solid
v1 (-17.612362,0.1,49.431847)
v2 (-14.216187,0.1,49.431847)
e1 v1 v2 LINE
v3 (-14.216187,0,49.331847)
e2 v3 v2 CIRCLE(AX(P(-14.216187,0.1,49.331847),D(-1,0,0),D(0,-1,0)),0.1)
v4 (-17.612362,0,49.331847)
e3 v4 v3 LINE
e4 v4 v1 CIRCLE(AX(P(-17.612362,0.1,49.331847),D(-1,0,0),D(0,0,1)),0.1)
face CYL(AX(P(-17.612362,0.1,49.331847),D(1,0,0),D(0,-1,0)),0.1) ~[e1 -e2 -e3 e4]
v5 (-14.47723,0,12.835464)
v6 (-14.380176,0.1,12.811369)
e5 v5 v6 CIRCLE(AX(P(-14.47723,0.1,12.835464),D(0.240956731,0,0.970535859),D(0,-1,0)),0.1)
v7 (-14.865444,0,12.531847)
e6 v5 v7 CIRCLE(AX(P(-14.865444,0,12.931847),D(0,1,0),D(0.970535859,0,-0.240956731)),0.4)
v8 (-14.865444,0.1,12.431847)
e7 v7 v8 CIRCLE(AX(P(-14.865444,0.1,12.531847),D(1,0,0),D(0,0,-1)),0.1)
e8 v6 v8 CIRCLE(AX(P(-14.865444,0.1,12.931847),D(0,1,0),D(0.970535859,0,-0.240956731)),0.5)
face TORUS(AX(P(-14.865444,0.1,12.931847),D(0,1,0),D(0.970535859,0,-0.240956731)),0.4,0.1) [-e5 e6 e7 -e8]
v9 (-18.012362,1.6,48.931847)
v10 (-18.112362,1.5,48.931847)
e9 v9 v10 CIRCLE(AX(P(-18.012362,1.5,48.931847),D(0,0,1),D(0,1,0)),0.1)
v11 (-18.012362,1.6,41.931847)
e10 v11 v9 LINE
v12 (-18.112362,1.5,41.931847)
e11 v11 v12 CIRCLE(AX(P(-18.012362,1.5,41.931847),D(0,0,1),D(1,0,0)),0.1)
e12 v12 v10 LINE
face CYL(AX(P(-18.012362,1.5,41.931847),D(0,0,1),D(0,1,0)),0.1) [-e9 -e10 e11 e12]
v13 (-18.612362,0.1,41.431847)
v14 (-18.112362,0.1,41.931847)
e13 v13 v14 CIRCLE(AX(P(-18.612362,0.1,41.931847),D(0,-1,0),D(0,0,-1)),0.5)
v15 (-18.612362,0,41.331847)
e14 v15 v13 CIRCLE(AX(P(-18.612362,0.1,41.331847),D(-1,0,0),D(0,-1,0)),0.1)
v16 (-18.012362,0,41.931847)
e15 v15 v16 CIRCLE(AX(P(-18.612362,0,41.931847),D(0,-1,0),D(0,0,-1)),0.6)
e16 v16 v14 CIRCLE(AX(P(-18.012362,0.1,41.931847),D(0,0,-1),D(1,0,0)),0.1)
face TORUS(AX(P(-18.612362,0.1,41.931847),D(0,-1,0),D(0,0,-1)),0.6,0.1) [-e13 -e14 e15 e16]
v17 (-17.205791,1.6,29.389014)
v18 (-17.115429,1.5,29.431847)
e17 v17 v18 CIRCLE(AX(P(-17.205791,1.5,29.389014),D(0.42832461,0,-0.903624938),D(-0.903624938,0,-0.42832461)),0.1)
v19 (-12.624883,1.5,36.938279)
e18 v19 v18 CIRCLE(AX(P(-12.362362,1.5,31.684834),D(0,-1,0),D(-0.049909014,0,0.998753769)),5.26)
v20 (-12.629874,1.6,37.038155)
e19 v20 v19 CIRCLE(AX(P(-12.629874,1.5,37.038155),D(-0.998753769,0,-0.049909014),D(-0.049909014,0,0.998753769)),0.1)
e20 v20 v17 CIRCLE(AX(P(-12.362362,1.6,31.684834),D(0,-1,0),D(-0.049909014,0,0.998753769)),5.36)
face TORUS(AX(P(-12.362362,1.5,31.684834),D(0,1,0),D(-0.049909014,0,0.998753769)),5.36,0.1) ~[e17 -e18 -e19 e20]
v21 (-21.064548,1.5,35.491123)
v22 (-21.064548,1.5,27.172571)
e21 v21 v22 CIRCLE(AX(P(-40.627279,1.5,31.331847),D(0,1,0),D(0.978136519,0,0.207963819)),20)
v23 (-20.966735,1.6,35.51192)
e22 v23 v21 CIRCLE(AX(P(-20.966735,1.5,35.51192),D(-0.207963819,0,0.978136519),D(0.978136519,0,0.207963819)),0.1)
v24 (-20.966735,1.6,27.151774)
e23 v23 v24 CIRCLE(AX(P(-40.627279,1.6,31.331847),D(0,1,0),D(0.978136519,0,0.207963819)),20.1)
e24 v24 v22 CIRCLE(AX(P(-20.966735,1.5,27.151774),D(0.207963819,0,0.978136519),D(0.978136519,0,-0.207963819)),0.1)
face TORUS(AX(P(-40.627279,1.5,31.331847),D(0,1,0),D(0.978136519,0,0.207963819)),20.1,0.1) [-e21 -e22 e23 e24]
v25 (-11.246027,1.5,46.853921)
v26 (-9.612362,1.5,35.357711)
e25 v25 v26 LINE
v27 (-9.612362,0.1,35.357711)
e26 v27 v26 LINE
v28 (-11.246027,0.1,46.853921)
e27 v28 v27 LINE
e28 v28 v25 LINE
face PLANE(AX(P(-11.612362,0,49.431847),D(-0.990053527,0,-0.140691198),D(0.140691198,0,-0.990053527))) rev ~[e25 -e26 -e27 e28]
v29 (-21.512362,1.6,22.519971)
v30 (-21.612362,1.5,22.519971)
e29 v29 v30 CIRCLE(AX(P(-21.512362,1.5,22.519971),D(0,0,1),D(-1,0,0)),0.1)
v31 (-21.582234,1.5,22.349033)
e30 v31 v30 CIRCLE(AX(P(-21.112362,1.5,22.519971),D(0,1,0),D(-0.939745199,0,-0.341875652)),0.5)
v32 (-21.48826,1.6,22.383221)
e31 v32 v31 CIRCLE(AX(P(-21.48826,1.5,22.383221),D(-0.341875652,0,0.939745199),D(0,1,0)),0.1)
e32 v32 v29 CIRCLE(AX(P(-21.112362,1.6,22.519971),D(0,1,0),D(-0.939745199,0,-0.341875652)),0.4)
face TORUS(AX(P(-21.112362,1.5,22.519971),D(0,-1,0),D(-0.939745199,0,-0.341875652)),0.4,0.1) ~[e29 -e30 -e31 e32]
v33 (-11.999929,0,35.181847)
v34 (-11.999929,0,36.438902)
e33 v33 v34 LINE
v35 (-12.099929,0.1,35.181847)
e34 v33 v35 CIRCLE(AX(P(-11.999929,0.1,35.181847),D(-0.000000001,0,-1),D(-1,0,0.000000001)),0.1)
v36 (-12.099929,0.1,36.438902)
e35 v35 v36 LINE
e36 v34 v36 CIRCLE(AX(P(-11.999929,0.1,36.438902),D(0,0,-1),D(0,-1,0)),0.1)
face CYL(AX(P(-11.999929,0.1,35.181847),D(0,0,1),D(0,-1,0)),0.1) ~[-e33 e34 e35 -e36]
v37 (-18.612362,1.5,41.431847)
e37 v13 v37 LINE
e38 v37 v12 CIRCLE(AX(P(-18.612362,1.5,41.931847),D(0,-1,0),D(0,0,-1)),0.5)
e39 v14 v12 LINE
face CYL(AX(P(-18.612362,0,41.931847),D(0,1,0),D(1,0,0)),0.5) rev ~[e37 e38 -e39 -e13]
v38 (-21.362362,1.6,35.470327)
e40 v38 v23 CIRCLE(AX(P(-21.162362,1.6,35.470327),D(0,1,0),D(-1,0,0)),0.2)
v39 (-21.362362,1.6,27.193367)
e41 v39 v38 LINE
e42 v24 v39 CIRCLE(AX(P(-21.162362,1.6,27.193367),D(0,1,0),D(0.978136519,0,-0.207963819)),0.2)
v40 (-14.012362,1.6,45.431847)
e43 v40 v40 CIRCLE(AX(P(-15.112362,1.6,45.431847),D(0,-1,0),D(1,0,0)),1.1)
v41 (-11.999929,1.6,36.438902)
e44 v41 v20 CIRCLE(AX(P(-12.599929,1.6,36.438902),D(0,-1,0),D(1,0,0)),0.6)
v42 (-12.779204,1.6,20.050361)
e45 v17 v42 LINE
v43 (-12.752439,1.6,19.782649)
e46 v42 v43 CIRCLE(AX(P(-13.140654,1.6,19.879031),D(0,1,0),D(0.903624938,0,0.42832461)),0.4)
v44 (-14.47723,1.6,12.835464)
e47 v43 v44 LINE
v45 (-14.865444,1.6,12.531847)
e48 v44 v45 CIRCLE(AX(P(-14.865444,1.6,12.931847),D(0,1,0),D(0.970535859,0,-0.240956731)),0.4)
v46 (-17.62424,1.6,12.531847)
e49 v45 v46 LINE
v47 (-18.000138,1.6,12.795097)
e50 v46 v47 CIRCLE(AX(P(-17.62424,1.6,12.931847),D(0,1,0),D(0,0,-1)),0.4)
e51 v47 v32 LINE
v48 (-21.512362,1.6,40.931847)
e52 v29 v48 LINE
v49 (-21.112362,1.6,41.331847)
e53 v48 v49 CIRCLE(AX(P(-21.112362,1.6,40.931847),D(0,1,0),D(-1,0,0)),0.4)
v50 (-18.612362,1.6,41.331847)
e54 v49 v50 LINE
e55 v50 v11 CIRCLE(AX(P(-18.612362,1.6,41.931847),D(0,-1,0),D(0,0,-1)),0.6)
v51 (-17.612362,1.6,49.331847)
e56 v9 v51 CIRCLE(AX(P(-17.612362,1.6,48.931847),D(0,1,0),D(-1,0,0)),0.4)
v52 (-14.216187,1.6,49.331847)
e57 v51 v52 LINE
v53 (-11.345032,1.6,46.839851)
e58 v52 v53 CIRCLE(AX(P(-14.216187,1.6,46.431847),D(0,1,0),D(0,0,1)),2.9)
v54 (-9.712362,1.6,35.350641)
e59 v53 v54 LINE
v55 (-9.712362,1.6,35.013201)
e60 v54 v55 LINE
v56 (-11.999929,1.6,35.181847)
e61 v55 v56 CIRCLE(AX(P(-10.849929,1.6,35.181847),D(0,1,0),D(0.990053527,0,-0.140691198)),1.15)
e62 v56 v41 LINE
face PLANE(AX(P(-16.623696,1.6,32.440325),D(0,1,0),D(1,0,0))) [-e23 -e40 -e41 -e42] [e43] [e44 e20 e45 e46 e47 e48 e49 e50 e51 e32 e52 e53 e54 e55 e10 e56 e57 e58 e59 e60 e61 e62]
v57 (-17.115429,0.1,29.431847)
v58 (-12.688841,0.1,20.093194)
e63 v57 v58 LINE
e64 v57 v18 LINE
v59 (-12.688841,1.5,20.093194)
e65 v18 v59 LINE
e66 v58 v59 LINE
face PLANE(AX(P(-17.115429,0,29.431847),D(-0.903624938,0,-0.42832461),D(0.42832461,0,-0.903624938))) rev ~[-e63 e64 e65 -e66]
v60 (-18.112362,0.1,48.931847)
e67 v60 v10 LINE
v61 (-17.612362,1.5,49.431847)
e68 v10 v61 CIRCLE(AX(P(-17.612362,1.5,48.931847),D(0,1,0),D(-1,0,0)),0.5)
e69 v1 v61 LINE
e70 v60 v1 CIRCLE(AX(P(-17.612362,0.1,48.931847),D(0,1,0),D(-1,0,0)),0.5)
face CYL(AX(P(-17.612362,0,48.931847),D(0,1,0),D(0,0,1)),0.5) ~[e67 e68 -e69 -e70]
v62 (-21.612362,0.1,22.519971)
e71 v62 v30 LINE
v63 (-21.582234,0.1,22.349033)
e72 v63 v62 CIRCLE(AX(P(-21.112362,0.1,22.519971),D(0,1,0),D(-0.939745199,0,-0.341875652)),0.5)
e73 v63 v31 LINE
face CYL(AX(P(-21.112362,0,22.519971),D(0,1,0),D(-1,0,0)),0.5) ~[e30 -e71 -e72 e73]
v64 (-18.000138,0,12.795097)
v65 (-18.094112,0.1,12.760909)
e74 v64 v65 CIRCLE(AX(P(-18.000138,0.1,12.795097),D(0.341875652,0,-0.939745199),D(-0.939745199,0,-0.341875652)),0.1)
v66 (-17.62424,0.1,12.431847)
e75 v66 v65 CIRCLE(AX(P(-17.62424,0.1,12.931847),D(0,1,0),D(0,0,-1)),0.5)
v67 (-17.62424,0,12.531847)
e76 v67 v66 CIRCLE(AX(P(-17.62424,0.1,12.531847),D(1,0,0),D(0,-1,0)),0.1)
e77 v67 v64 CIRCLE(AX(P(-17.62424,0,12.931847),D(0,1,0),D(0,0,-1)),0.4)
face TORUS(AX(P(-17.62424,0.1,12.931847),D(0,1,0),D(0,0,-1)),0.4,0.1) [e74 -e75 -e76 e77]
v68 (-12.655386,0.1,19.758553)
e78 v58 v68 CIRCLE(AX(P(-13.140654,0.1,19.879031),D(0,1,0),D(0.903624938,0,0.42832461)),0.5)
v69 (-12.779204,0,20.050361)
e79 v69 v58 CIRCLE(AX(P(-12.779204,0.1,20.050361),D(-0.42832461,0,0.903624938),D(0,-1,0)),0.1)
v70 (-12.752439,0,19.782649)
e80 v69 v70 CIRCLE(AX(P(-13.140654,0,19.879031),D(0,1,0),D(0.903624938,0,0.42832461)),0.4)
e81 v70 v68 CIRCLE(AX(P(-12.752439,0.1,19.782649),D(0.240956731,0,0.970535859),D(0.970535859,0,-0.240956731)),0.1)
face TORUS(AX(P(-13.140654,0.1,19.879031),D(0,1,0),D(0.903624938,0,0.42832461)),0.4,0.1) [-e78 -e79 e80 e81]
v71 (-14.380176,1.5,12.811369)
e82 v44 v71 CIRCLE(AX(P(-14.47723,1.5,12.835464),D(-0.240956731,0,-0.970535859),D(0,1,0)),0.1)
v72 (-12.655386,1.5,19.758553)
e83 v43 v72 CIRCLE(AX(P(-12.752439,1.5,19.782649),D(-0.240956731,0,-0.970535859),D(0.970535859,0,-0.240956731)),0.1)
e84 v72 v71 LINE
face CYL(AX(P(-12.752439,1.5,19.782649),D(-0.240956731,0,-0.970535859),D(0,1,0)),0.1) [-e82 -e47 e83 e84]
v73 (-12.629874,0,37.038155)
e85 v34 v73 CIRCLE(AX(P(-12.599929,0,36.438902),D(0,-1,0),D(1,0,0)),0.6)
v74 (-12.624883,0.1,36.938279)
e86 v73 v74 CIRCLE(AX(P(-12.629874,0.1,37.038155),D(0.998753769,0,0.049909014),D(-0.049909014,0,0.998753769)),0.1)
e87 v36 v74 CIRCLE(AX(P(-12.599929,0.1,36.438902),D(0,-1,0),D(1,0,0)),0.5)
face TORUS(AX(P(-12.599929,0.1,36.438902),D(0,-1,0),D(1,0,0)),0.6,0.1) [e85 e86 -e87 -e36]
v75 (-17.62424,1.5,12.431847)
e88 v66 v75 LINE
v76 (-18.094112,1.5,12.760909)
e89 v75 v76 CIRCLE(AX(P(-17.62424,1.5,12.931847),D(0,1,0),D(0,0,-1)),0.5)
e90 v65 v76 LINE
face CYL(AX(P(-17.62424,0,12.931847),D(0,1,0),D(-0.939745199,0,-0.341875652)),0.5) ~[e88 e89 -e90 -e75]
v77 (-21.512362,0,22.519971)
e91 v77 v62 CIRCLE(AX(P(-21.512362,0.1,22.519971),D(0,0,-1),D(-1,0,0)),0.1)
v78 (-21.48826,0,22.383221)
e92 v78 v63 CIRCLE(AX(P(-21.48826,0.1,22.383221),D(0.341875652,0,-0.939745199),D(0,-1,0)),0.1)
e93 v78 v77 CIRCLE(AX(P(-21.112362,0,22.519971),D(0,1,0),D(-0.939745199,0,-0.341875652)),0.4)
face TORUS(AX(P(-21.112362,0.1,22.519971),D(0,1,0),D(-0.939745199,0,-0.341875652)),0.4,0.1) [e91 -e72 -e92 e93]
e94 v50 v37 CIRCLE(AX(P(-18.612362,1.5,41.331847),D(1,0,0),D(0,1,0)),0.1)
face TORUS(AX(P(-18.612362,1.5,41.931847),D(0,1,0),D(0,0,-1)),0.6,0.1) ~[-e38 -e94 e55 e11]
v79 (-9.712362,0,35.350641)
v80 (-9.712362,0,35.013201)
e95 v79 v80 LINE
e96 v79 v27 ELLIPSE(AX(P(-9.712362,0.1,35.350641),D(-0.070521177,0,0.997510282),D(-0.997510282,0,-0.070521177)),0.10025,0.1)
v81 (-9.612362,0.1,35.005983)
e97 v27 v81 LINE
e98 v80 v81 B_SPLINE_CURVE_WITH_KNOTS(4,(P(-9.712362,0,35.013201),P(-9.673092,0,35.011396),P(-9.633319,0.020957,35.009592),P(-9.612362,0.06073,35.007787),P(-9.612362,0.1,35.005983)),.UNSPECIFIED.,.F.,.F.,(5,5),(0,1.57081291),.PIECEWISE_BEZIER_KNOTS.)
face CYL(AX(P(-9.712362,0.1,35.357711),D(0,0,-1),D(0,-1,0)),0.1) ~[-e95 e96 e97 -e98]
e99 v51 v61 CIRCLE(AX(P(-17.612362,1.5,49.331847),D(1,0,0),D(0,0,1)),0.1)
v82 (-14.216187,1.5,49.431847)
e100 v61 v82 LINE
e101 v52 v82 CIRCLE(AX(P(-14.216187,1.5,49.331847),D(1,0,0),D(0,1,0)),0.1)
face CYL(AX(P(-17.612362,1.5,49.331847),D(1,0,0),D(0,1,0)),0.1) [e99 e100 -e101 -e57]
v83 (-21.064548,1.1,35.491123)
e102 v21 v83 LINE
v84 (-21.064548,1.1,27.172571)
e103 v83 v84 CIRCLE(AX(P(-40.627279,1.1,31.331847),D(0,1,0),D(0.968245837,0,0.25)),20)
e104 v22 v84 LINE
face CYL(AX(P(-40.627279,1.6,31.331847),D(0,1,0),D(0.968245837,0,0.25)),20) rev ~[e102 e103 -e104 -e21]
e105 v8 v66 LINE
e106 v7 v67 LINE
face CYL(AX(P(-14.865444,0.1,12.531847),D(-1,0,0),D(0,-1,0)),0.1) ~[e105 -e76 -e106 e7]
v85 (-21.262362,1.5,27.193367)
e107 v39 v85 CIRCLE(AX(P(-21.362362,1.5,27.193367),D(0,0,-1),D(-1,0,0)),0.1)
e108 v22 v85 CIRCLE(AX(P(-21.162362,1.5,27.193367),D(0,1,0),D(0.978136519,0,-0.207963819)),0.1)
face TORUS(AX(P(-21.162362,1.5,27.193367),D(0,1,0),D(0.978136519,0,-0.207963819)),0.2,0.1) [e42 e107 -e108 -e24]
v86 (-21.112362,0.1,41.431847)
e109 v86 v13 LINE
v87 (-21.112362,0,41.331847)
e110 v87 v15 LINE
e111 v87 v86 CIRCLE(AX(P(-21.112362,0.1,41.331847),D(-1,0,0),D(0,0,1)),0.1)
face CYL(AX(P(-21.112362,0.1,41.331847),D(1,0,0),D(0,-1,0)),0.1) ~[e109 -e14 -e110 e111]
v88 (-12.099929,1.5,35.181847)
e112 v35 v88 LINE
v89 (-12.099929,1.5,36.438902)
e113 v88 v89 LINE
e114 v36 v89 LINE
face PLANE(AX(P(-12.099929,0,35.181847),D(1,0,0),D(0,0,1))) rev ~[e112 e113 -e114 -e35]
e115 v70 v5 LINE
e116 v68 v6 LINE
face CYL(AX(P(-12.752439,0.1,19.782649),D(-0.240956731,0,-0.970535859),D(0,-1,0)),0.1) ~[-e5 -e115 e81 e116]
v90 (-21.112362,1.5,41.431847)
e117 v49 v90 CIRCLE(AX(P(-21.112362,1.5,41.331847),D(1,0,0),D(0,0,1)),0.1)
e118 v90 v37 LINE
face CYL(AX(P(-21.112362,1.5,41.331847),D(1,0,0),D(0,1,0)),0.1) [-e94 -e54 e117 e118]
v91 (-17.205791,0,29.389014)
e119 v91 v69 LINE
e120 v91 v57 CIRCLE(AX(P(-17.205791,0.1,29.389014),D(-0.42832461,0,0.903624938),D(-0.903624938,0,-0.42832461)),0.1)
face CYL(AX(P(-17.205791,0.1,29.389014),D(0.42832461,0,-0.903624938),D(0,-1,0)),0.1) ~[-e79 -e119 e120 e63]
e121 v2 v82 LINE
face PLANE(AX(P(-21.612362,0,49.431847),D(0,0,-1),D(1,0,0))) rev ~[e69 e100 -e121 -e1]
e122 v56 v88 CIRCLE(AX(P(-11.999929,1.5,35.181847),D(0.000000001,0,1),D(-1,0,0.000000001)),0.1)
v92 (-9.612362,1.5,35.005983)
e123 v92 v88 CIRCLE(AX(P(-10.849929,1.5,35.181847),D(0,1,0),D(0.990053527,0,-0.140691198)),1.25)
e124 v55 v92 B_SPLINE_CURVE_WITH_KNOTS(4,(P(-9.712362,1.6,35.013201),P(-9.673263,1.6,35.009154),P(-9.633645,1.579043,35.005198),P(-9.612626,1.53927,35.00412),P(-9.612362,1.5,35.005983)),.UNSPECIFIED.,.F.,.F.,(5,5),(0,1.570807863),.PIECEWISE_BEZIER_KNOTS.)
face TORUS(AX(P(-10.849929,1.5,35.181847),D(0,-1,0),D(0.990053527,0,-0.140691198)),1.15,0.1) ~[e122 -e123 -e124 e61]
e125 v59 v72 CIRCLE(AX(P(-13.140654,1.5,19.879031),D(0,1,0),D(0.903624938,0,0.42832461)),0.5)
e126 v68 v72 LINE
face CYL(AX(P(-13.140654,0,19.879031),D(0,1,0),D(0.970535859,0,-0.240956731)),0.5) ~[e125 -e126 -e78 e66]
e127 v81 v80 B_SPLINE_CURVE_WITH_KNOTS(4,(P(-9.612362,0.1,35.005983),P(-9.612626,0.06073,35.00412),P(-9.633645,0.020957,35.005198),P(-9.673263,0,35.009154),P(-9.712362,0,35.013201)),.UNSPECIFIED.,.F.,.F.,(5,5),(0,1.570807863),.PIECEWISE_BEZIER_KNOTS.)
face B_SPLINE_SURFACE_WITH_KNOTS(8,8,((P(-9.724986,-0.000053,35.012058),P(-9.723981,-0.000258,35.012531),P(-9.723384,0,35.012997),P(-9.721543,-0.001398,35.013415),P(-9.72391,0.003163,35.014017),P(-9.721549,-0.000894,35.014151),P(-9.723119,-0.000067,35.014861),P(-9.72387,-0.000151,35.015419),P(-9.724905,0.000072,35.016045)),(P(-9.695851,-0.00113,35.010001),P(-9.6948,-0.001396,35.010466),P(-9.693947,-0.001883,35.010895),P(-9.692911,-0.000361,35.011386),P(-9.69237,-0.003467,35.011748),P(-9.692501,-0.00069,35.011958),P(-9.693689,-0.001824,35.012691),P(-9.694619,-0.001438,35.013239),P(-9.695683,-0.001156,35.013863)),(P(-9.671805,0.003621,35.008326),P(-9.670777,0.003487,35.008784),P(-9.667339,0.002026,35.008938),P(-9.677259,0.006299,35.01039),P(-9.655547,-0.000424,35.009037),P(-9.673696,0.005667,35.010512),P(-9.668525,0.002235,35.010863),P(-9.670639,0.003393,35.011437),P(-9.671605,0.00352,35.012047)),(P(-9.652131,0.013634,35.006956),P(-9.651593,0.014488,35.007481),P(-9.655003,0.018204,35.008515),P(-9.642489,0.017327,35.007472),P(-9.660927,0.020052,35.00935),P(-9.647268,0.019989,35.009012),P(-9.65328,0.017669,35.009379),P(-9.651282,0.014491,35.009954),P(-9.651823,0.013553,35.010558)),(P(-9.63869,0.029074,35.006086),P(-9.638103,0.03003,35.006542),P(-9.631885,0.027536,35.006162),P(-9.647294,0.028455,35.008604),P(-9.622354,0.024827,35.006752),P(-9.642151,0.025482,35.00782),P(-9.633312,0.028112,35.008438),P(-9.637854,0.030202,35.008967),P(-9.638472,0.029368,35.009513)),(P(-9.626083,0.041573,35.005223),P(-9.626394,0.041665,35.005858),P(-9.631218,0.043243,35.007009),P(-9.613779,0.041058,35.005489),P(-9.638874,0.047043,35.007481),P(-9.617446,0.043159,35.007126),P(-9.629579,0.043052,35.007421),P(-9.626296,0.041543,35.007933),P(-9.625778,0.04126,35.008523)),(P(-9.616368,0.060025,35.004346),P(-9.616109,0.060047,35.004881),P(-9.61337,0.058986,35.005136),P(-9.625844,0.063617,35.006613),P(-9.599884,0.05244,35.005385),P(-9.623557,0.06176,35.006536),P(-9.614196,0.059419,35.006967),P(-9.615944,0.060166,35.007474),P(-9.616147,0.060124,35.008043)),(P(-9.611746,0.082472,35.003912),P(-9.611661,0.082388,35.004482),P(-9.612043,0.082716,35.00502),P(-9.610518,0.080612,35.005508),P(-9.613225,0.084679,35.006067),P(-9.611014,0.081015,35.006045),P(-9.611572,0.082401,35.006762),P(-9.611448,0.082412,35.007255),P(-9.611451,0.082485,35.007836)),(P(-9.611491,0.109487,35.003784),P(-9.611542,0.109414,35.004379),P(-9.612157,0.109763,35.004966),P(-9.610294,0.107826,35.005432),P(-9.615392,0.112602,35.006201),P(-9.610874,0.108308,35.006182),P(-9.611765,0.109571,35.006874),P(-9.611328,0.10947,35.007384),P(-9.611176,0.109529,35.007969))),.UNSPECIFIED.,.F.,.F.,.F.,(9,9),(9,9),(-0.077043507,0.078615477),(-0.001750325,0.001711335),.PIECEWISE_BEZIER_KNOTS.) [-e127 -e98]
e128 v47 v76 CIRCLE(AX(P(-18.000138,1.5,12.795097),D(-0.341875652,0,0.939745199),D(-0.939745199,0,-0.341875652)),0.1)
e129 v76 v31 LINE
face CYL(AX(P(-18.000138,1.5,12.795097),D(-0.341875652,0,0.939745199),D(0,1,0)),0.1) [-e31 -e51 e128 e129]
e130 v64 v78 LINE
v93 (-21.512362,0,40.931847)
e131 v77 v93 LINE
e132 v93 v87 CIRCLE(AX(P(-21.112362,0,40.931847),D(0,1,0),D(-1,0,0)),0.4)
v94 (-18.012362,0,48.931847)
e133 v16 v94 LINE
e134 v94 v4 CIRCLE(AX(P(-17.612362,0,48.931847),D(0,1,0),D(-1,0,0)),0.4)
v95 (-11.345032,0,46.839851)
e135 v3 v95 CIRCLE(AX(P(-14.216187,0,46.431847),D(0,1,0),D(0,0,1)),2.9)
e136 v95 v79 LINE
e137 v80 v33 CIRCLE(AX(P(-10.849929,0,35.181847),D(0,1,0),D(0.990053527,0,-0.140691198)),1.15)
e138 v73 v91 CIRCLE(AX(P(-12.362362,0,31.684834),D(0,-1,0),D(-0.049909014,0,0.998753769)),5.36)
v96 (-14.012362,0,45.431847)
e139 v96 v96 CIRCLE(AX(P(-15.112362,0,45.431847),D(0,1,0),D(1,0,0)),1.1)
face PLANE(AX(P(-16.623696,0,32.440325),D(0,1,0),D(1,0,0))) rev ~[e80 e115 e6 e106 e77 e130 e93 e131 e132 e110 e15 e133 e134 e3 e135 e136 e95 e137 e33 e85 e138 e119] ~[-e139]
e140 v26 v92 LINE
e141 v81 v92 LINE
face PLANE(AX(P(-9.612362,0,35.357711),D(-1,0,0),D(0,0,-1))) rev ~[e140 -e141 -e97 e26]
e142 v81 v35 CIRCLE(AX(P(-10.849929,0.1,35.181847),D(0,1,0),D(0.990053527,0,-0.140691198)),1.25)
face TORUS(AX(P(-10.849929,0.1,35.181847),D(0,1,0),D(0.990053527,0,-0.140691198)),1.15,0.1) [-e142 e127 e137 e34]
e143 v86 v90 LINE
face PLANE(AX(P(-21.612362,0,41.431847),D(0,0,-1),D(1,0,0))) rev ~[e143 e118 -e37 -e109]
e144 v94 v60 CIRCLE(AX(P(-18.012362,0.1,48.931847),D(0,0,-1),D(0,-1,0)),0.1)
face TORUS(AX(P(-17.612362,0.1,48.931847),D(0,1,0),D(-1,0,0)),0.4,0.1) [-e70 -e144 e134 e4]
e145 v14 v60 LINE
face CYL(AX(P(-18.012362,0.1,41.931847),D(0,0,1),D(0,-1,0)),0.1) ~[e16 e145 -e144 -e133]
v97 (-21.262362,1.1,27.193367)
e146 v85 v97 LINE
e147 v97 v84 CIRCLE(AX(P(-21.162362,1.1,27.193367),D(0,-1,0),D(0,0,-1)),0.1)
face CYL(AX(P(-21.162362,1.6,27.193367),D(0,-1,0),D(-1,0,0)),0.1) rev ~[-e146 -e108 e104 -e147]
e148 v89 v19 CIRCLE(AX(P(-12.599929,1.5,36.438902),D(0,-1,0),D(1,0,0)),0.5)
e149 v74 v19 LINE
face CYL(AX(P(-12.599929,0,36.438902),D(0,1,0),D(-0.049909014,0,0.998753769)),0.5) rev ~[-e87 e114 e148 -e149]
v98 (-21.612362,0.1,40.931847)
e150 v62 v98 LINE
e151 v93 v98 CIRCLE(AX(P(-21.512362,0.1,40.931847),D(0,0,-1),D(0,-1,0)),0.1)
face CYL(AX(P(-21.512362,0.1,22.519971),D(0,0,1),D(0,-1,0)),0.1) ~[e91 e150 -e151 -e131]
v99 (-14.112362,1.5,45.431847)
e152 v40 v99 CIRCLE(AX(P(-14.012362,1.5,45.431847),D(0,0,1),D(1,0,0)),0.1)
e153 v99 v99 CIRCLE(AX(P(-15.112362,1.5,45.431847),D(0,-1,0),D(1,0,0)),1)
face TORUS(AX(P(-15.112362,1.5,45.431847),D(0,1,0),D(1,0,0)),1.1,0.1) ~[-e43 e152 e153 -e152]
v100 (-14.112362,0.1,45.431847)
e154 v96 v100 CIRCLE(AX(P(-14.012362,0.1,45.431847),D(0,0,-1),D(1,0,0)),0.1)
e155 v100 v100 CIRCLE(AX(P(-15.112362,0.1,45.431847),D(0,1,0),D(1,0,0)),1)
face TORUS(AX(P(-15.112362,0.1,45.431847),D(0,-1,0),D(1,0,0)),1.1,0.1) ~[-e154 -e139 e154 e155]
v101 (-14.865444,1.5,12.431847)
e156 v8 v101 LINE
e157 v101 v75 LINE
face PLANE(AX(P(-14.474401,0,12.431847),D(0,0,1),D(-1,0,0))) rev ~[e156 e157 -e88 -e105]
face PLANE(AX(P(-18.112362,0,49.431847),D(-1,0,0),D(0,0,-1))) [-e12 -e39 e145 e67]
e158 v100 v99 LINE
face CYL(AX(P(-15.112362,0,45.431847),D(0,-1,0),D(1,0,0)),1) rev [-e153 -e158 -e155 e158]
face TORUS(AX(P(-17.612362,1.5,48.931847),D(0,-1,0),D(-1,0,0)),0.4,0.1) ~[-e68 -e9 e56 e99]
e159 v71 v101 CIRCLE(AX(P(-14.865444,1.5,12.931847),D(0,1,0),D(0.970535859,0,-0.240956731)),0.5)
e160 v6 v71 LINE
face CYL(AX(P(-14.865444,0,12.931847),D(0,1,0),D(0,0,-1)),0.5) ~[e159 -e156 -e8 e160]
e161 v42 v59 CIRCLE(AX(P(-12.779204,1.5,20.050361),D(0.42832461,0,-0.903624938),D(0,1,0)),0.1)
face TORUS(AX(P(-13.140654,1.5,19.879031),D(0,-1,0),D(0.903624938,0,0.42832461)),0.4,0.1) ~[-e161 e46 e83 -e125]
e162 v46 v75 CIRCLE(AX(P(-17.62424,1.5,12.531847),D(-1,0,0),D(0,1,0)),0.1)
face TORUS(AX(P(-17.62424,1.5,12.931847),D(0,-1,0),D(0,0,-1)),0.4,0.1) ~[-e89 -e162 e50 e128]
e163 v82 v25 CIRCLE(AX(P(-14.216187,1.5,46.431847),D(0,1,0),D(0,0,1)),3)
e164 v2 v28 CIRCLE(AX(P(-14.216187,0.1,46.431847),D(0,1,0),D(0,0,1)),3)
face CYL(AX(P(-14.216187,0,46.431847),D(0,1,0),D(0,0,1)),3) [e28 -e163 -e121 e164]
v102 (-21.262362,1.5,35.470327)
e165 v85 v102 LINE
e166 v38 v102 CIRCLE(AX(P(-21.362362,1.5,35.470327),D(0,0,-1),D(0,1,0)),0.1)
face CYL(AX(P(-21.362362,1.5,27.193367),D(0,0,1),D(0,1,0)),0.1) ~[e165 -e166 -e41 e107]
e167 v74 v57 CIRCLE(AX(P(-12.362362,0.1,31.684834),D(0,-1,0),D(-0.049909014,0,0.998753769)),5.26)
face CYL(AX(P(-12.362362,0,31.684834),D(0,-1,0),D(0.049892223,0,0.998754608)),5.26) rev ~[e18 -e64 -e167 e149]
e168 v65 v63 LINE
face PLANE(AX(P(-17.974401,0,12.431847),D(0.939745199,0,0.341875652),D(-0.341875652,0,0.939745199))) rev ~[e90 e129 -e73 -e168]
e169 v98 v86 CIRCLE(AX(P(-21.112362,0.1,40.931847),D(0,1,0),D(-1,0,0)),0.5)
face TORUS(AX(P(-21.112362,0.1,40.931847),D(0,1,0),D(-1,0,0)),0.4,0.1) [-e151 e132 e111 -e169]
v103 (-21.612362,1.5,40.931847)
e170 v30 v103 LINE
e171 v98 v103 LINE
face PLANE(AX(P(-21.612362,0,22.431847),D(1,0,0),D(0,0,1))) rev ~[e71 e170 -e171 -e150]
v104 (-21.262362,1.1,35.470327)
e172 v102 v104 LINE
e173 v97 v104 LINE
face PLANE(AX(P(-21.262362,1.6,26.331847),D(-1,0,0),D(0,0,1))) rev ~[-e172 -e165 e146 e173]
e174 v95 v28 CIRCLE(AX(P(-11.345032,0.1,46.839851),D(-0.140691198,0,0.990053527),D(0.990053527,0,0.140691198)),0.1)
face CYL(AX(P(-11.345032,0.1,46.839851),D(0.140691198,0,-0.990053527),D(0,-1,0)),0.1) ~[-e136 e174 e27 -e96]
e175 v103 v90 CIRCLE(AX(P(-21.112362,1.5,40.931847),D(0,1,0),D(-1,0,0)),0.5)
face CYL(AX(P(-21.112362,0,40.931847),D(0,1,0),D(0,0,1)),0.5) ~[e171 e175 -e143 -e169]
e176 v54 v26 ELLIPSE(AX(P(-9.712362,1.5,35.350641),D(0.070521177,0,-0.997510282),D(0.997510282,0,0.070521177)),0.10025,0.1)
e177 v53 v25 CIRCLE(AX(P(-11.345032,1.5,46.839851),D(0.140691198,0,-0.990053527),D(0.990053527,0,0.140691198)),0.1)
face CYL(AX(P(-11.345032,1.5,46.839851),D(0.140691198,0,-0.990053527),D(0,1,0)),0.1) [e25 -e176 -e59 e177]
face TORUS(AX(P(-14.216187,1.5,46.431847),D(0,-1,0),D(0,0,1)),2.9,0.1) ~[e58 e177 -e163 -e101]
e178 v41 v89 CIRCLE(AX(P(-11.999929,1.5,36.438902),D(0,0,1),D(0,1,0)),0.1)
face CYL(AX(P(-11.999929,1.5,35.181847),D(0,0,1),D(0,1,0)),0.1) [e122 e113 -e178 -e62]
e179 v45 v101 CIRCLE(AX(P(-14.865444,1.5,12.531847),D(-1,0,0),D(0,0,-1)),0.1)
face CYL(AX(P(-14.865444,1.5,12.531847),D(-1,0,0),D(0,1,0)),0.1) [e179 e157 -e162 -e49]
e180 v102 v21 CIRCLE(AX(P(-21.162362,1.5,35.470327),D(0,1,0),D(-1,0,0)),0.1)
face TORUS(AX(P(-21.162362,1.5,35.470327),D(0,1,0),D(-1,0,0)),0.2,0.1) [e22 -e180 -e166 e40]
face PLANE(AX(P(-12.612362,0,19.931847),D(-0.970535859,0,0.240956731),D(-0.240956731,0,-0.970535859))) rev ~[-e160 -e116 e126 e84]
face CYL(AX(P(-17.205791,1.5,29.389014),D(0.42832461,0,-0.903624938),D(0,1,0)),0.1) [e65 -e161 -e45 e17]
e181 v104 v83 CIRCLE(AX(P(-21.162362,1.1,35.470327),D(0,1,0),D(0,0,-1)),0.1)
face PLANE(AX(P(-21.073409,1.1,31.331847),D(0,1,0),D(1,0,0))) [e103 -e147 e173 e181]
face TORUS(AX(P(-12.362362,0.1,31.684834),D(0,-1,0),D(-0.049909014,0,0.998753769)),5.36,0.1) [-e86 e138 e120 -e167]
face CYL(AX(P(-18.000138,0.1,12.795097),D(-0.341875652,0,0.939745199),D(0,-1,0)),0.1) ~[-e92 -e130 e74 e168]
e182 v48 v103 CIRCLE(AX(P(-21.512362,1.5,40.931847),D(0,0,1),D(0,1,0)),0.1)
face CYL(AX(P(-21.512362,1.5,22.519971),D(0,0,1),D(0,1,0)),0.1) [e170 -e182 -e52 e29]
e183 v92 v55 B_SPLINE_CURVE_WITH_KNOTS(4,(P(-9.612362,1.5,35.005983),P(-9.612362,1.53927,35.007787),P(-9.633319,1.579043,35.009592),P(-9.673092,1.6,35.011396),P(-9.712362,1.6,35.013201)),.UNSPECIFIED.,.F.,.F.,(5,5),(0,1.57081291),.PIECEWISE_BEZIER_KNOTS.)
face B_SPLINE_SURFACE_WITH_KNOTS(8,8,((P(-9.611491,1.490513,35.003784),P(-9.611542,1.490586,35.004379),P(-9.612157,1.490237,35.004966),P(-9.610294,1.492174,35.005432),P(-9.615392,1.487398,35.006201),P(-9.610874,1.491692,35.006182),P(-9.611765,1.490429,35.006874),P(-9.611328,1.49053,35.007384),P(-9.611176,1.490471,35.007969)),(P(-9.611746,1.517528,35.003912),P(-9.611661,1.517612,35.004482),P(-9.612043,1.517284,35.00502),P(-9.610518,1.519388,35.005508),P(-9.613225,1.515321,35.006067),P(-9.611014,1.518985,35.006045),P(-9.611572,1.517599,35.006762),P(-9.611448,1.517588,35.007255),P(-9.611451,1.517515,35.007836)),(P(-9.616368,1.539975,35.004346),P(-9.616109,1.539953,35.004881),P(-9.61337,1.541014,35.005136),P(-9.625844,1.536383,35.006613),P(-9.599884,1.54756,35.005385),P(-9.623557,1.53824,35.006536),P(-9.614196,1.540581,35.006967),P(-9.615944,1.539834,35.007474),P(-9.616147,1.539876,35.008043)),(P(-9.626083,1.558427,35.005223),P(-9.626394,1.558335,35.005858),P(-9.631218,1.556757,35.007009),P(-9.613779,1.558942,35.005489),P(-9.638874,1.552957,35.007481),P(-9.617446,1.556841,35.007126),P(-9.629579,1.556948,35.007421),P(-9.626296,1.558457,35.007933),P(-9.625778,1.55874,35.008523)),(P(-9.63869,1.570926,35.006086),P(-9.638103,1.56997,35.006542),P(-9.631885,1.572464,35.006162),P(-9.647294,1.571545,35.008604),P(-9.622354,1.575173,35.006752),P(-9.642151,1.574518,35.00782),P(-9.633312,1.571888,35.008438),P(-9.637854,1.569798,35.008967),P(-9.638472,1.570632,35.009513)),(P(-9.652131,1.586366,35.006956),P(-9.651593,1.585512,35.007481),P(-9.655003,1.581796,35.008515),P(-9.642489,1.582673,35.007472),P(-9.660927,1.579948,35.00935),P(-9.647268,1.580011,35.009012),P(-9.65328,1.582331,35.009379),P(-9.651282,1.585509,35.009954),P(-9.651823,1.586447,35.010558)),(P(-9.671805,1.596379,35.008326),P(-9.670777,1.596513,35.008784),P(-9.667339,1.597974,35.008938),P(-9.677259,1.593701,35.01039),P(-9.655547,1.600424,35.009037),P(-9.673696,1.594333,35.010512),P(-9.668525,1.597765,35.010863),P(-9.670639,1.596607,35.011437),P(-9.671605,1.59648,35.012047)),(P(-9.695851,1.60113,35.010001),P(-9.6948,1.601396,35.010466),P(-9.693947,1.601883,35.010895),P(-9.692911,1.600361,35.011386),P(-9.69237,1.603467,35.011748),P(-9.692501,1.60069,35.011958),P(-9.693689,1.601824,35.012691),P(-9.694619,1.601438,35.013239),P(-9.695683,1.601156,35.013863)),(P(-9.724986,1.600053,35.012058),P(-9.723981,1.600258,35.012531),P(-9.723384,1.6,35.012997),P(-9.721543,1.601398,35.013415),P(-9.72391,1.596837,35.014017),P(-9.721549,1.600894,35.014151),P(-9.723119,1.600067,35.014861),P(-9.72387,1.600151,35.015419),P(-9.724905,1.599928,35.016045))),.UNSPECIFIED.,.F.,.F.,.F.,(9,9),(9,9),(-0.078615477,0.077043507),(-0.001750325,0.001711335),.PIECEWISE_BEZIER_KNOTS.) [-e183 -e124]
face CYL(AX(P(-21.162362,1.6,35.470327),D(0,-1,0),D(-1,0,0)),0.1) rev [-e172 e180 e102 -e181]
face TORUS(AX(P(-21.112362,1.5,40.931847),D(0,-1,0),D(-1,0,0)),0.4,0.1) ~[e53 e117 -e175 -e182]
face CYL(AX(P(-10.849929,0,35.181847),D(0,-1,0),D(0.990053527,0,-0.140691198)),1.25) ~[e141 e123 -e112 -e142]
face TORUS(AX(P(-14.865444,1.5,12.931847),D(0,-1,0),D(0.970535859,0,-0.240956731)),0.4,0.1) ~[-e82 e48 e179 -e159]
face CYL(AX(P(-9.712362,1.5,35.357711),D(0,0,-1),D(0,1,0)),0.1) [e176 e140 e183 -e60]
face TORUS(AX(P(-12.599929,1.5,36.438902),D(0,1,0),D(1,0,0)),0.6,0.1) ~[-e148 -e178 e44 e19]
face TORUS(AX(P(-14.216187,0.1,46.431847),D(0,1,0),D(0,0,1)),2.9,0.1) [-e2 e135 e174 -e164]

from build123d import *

# Parameters (mm, degrees)
BOSS_EXTRUDE1_DEPTH = 1.6
FILLET1_R           = 3
SKETCH2_R           = 1
SKETCH2_W           = 3.5
SKETCH2_H           = 8
CUT_EXTRUDE3_DEPTH  = 2.6
FILLET2_R           = 0.5
FILLET4_R           = 0.1
FILLET5_R           = 0.1
CUT_EXTRUDE6_DEPTH  = 0.5
FILLET7_R           = 0.1
FILLET8_R           = 0.1
FILLET9_R           = 0.1


with BuildPart() as part:
    # Sketch1 → Boss-Extrude1 (new body)
    with BuildSketch(Plane(origin=(0, 0, 0), x_dir=(1, 0, 0), z_dir=(0, 1, 0))):
        with BuildLine():
            Line((-21.61236181, -22.431846947), (-21.61236181, -49.431846947))
            Line((-21.61236181, -49.431846947), (-11.61236181, -49.431846947))
            Line((-11.61236181, -49.431846947), (-9.61236181, -35.357710944))
            Line((-9.61236181, -35.357710944), (-9.61236181, -35.005982949))
            ThreePointArc((-9.61236181, -35.005982949), (-10.93808019, -33.934959093), (-12.099928719, -35.181846947))
            Line((-12.099928719, -35.181846947), (-12.099928719, -36.938283631))
            ThreePointArc((-12.099928719, -36.938283631), (-16.735929752, -34.607077277), (-17.115428983, -29.431846947))
            Line((-17.115428983, -29.431846947), (-12.61236181, -19.931846947))
            Line((-12.61236181, -19.931846947), (-14.474400667, -12.431846947))
            Line((-14.474400667, -12.431846947), (-17.974400667, -12.431846947))
            Line((-17.974400667, -12.431846947), (-21.61236181, -22.431846947))
        make_face()
    extrude(amount=BOSS_EXTRUDE1_DEPTH)

    # Fillet1
    fillet1_edges = [part.edges().sort_by_distance(p)[0] for p in [
        (-11.61236181, 0.8, 49.431846947),
    ]]
    fillet(fillet1_edges, radius=FILLET1_R)

    # Sketch2 → Cut-Extrude3 (cut, through all)
    with BuildSketch(Plane(origin=(0, 0, 0), x_dir=(1, 0, 0), z_dir=(0, 1, 0))):
        with Locations((-15.11236181, -45.431846947)):
            Circle(SKETCH2_R)
        with Locations((-19.86236181, -45.431846947)):
            Rectangle(SKETCH2_W, SKETCH2_H)
    extrude(amount=CUT_EXTRUDE3_DEPTH, mode=Mode.SUBTRACT)

    # Fillet2
    fillet2_edges = [part.edges().sort_by_distance(p)[0] for p in [
        (-21.61236181, 0.8, 22.431846947),
        (-17.974400667, 0.8, 12.431846947),
        (-14.474400667, 0.8, 12.431846947),
        (-12.61236181, 0.8, 19.931846947),
        (-12.099928719, 0.8, 36.938283631),
        (-21.61236181, 0.8, 41.431846947),
        (-18.11236181, 0.8, 49.431846947),
        (-18.11236181, 0.8, 41.431846947),
    ]]
    fillet(fillet2_edges, radius=FILLET2_R)

    # Fillet4
    fillet4_edges = [part.edges().sort_by_distance(p)[0] for p in [
        (-9.61236181, 0, 35.181846947),
        (-10.429194161, 0, 41.105815742),
        (-16.876302836, 0, 34.385192966),
        (-10.93808019, 0, 33.934959093),
        (-12.249746245, 0, 48.697483809),
        (-16.11236181, 0, 45.431846947),
        (-12.099928719, 0, 35.81037464),
        (-13.517780977, 0, 16.284960777),
        (-18.11236181, 0, 45.431846947),
        (-19.86236181, 0, 41.431846947),
        (-21.61236181, 0, 31.725908874),
        (-19.838173309, 0, 17.554971048),
        (-16.244841834, 0, 12.431846947),
        (-14.902135134, 0, 24.762520295),
        (-15.914274452, 0, 49.431846947),
        (-17.965915201, 0, 49.285400337),
        (-21.465915201, 0, 41.285400337),
        (-21.60477236, 0, 22.43318457),
        (-17.911059314, 0, 12.522292974),
        (-14.557417423, 0, 12.537994701),
        (-12.643133893, 0, 19.92877053),
        (-12.255310999, 0, 36.801171056),
        (-18.258808419, 0, 41.578293556),
    ]]
    fillet(fillet4_edges, radius=FILLET4_R)

    # Fillet5
    fillet5_edges = [part.edges().sort_by_distance(p)[0] for p in [
        (-16.876302836, 1.6, 34.385192966),
        (-12.249746245, 1.6, 48.697483809),
        (-10.429194161, 1.6, 41.105815742),
        (-9.61236181, 1.6, 35.181846947),
        (-10.93808019, 1.6, 33.934959093),
        (-16.11236181, 1.6, 45.431846947),
        (-12.099928719, 1.6, 35.81037464),
        (-13.517780977, 1.6, 16.284960777),
        (-14.902135134, 1.6, 24.762520295),
        (-19.86236181, 1.6, 41.431846947),
        (-18.11236181, 1.6, 45.431846947),
        (-15.914274452, 1.6, 49.431846947),
        (-16.244841834, 1.6, 12.431846947),
        (-19.838173309, 1.6, 17.554971048),
        (-21.61236181, 1.6, 31.725908874),
        (-17.965915201, 1.6, 49.285400337),
        (-21.465915201, 1.6, 41.285400337),
        (-21.60477236, 1.6, 22.43318457),
        (-17.911059314, 1.6, 12.522292974),
        (-14.557417423, 1.6, 12.537994701),
        (-12.643133893, 1.6, 19.92877053),
        (-12.255310999, 1.6, 36.801171056),
        (-18.258808419, 1.6, 41.578293556),
    ]]
    fillet(fillet5_edges, radius=FILLET5_R)

    # Sketch4 → Cut-Extrude6 (cut)
    with BuildSketch(Plane(origin=(0, 1.6, 0), x_dir=(1, 0, 0), z_dir=(0, 1, 0))):
        with BuildLine():
            Line((-21.26236181, -26.331846947), (-21.26236181, -36.331846947))
            ThreePointArc((-21.26236181, -36.331846947), (-20.627278541, -31.331846947), (-21.26236181, -26.331846947))
        make_face()
    extrude(amount=-CUT_EXTRUDE6_DEPTH, mode=Mode.SUBTRACT)

    # Fillet7
    fillet7_edges = [part.edges().sort_by_distance(p)[0] for p in [
        (-21.26236181, 1.35, 36.331846947),
    ]]
    fillet(fillet7_edges, radius=FILLET7_R)

    # Fillet8
    fillet8_edges = [part.edges().sort_by_distance(p)[0] for p in [
        (-21.26236181, 1.35, 26.331846947),
    ]]
    fillet(fillet8_edges, radius=FILLET8_R)

    # Fillet9
    fillet9_edges = [part.edges().sort_by_distance(p)[0] for p in [
        (-20.627278541, 1.6, 31.331846947),
        (-21.172817306, 1.6, 35.569778851),
        (-21.26236181, 1.6, 31.331846947),
        (-21.172817306, 1.6, 27.093915042),
    ]]
    fillet(fillet9_edges, radius=FILLET9_R)


solid = part.part
